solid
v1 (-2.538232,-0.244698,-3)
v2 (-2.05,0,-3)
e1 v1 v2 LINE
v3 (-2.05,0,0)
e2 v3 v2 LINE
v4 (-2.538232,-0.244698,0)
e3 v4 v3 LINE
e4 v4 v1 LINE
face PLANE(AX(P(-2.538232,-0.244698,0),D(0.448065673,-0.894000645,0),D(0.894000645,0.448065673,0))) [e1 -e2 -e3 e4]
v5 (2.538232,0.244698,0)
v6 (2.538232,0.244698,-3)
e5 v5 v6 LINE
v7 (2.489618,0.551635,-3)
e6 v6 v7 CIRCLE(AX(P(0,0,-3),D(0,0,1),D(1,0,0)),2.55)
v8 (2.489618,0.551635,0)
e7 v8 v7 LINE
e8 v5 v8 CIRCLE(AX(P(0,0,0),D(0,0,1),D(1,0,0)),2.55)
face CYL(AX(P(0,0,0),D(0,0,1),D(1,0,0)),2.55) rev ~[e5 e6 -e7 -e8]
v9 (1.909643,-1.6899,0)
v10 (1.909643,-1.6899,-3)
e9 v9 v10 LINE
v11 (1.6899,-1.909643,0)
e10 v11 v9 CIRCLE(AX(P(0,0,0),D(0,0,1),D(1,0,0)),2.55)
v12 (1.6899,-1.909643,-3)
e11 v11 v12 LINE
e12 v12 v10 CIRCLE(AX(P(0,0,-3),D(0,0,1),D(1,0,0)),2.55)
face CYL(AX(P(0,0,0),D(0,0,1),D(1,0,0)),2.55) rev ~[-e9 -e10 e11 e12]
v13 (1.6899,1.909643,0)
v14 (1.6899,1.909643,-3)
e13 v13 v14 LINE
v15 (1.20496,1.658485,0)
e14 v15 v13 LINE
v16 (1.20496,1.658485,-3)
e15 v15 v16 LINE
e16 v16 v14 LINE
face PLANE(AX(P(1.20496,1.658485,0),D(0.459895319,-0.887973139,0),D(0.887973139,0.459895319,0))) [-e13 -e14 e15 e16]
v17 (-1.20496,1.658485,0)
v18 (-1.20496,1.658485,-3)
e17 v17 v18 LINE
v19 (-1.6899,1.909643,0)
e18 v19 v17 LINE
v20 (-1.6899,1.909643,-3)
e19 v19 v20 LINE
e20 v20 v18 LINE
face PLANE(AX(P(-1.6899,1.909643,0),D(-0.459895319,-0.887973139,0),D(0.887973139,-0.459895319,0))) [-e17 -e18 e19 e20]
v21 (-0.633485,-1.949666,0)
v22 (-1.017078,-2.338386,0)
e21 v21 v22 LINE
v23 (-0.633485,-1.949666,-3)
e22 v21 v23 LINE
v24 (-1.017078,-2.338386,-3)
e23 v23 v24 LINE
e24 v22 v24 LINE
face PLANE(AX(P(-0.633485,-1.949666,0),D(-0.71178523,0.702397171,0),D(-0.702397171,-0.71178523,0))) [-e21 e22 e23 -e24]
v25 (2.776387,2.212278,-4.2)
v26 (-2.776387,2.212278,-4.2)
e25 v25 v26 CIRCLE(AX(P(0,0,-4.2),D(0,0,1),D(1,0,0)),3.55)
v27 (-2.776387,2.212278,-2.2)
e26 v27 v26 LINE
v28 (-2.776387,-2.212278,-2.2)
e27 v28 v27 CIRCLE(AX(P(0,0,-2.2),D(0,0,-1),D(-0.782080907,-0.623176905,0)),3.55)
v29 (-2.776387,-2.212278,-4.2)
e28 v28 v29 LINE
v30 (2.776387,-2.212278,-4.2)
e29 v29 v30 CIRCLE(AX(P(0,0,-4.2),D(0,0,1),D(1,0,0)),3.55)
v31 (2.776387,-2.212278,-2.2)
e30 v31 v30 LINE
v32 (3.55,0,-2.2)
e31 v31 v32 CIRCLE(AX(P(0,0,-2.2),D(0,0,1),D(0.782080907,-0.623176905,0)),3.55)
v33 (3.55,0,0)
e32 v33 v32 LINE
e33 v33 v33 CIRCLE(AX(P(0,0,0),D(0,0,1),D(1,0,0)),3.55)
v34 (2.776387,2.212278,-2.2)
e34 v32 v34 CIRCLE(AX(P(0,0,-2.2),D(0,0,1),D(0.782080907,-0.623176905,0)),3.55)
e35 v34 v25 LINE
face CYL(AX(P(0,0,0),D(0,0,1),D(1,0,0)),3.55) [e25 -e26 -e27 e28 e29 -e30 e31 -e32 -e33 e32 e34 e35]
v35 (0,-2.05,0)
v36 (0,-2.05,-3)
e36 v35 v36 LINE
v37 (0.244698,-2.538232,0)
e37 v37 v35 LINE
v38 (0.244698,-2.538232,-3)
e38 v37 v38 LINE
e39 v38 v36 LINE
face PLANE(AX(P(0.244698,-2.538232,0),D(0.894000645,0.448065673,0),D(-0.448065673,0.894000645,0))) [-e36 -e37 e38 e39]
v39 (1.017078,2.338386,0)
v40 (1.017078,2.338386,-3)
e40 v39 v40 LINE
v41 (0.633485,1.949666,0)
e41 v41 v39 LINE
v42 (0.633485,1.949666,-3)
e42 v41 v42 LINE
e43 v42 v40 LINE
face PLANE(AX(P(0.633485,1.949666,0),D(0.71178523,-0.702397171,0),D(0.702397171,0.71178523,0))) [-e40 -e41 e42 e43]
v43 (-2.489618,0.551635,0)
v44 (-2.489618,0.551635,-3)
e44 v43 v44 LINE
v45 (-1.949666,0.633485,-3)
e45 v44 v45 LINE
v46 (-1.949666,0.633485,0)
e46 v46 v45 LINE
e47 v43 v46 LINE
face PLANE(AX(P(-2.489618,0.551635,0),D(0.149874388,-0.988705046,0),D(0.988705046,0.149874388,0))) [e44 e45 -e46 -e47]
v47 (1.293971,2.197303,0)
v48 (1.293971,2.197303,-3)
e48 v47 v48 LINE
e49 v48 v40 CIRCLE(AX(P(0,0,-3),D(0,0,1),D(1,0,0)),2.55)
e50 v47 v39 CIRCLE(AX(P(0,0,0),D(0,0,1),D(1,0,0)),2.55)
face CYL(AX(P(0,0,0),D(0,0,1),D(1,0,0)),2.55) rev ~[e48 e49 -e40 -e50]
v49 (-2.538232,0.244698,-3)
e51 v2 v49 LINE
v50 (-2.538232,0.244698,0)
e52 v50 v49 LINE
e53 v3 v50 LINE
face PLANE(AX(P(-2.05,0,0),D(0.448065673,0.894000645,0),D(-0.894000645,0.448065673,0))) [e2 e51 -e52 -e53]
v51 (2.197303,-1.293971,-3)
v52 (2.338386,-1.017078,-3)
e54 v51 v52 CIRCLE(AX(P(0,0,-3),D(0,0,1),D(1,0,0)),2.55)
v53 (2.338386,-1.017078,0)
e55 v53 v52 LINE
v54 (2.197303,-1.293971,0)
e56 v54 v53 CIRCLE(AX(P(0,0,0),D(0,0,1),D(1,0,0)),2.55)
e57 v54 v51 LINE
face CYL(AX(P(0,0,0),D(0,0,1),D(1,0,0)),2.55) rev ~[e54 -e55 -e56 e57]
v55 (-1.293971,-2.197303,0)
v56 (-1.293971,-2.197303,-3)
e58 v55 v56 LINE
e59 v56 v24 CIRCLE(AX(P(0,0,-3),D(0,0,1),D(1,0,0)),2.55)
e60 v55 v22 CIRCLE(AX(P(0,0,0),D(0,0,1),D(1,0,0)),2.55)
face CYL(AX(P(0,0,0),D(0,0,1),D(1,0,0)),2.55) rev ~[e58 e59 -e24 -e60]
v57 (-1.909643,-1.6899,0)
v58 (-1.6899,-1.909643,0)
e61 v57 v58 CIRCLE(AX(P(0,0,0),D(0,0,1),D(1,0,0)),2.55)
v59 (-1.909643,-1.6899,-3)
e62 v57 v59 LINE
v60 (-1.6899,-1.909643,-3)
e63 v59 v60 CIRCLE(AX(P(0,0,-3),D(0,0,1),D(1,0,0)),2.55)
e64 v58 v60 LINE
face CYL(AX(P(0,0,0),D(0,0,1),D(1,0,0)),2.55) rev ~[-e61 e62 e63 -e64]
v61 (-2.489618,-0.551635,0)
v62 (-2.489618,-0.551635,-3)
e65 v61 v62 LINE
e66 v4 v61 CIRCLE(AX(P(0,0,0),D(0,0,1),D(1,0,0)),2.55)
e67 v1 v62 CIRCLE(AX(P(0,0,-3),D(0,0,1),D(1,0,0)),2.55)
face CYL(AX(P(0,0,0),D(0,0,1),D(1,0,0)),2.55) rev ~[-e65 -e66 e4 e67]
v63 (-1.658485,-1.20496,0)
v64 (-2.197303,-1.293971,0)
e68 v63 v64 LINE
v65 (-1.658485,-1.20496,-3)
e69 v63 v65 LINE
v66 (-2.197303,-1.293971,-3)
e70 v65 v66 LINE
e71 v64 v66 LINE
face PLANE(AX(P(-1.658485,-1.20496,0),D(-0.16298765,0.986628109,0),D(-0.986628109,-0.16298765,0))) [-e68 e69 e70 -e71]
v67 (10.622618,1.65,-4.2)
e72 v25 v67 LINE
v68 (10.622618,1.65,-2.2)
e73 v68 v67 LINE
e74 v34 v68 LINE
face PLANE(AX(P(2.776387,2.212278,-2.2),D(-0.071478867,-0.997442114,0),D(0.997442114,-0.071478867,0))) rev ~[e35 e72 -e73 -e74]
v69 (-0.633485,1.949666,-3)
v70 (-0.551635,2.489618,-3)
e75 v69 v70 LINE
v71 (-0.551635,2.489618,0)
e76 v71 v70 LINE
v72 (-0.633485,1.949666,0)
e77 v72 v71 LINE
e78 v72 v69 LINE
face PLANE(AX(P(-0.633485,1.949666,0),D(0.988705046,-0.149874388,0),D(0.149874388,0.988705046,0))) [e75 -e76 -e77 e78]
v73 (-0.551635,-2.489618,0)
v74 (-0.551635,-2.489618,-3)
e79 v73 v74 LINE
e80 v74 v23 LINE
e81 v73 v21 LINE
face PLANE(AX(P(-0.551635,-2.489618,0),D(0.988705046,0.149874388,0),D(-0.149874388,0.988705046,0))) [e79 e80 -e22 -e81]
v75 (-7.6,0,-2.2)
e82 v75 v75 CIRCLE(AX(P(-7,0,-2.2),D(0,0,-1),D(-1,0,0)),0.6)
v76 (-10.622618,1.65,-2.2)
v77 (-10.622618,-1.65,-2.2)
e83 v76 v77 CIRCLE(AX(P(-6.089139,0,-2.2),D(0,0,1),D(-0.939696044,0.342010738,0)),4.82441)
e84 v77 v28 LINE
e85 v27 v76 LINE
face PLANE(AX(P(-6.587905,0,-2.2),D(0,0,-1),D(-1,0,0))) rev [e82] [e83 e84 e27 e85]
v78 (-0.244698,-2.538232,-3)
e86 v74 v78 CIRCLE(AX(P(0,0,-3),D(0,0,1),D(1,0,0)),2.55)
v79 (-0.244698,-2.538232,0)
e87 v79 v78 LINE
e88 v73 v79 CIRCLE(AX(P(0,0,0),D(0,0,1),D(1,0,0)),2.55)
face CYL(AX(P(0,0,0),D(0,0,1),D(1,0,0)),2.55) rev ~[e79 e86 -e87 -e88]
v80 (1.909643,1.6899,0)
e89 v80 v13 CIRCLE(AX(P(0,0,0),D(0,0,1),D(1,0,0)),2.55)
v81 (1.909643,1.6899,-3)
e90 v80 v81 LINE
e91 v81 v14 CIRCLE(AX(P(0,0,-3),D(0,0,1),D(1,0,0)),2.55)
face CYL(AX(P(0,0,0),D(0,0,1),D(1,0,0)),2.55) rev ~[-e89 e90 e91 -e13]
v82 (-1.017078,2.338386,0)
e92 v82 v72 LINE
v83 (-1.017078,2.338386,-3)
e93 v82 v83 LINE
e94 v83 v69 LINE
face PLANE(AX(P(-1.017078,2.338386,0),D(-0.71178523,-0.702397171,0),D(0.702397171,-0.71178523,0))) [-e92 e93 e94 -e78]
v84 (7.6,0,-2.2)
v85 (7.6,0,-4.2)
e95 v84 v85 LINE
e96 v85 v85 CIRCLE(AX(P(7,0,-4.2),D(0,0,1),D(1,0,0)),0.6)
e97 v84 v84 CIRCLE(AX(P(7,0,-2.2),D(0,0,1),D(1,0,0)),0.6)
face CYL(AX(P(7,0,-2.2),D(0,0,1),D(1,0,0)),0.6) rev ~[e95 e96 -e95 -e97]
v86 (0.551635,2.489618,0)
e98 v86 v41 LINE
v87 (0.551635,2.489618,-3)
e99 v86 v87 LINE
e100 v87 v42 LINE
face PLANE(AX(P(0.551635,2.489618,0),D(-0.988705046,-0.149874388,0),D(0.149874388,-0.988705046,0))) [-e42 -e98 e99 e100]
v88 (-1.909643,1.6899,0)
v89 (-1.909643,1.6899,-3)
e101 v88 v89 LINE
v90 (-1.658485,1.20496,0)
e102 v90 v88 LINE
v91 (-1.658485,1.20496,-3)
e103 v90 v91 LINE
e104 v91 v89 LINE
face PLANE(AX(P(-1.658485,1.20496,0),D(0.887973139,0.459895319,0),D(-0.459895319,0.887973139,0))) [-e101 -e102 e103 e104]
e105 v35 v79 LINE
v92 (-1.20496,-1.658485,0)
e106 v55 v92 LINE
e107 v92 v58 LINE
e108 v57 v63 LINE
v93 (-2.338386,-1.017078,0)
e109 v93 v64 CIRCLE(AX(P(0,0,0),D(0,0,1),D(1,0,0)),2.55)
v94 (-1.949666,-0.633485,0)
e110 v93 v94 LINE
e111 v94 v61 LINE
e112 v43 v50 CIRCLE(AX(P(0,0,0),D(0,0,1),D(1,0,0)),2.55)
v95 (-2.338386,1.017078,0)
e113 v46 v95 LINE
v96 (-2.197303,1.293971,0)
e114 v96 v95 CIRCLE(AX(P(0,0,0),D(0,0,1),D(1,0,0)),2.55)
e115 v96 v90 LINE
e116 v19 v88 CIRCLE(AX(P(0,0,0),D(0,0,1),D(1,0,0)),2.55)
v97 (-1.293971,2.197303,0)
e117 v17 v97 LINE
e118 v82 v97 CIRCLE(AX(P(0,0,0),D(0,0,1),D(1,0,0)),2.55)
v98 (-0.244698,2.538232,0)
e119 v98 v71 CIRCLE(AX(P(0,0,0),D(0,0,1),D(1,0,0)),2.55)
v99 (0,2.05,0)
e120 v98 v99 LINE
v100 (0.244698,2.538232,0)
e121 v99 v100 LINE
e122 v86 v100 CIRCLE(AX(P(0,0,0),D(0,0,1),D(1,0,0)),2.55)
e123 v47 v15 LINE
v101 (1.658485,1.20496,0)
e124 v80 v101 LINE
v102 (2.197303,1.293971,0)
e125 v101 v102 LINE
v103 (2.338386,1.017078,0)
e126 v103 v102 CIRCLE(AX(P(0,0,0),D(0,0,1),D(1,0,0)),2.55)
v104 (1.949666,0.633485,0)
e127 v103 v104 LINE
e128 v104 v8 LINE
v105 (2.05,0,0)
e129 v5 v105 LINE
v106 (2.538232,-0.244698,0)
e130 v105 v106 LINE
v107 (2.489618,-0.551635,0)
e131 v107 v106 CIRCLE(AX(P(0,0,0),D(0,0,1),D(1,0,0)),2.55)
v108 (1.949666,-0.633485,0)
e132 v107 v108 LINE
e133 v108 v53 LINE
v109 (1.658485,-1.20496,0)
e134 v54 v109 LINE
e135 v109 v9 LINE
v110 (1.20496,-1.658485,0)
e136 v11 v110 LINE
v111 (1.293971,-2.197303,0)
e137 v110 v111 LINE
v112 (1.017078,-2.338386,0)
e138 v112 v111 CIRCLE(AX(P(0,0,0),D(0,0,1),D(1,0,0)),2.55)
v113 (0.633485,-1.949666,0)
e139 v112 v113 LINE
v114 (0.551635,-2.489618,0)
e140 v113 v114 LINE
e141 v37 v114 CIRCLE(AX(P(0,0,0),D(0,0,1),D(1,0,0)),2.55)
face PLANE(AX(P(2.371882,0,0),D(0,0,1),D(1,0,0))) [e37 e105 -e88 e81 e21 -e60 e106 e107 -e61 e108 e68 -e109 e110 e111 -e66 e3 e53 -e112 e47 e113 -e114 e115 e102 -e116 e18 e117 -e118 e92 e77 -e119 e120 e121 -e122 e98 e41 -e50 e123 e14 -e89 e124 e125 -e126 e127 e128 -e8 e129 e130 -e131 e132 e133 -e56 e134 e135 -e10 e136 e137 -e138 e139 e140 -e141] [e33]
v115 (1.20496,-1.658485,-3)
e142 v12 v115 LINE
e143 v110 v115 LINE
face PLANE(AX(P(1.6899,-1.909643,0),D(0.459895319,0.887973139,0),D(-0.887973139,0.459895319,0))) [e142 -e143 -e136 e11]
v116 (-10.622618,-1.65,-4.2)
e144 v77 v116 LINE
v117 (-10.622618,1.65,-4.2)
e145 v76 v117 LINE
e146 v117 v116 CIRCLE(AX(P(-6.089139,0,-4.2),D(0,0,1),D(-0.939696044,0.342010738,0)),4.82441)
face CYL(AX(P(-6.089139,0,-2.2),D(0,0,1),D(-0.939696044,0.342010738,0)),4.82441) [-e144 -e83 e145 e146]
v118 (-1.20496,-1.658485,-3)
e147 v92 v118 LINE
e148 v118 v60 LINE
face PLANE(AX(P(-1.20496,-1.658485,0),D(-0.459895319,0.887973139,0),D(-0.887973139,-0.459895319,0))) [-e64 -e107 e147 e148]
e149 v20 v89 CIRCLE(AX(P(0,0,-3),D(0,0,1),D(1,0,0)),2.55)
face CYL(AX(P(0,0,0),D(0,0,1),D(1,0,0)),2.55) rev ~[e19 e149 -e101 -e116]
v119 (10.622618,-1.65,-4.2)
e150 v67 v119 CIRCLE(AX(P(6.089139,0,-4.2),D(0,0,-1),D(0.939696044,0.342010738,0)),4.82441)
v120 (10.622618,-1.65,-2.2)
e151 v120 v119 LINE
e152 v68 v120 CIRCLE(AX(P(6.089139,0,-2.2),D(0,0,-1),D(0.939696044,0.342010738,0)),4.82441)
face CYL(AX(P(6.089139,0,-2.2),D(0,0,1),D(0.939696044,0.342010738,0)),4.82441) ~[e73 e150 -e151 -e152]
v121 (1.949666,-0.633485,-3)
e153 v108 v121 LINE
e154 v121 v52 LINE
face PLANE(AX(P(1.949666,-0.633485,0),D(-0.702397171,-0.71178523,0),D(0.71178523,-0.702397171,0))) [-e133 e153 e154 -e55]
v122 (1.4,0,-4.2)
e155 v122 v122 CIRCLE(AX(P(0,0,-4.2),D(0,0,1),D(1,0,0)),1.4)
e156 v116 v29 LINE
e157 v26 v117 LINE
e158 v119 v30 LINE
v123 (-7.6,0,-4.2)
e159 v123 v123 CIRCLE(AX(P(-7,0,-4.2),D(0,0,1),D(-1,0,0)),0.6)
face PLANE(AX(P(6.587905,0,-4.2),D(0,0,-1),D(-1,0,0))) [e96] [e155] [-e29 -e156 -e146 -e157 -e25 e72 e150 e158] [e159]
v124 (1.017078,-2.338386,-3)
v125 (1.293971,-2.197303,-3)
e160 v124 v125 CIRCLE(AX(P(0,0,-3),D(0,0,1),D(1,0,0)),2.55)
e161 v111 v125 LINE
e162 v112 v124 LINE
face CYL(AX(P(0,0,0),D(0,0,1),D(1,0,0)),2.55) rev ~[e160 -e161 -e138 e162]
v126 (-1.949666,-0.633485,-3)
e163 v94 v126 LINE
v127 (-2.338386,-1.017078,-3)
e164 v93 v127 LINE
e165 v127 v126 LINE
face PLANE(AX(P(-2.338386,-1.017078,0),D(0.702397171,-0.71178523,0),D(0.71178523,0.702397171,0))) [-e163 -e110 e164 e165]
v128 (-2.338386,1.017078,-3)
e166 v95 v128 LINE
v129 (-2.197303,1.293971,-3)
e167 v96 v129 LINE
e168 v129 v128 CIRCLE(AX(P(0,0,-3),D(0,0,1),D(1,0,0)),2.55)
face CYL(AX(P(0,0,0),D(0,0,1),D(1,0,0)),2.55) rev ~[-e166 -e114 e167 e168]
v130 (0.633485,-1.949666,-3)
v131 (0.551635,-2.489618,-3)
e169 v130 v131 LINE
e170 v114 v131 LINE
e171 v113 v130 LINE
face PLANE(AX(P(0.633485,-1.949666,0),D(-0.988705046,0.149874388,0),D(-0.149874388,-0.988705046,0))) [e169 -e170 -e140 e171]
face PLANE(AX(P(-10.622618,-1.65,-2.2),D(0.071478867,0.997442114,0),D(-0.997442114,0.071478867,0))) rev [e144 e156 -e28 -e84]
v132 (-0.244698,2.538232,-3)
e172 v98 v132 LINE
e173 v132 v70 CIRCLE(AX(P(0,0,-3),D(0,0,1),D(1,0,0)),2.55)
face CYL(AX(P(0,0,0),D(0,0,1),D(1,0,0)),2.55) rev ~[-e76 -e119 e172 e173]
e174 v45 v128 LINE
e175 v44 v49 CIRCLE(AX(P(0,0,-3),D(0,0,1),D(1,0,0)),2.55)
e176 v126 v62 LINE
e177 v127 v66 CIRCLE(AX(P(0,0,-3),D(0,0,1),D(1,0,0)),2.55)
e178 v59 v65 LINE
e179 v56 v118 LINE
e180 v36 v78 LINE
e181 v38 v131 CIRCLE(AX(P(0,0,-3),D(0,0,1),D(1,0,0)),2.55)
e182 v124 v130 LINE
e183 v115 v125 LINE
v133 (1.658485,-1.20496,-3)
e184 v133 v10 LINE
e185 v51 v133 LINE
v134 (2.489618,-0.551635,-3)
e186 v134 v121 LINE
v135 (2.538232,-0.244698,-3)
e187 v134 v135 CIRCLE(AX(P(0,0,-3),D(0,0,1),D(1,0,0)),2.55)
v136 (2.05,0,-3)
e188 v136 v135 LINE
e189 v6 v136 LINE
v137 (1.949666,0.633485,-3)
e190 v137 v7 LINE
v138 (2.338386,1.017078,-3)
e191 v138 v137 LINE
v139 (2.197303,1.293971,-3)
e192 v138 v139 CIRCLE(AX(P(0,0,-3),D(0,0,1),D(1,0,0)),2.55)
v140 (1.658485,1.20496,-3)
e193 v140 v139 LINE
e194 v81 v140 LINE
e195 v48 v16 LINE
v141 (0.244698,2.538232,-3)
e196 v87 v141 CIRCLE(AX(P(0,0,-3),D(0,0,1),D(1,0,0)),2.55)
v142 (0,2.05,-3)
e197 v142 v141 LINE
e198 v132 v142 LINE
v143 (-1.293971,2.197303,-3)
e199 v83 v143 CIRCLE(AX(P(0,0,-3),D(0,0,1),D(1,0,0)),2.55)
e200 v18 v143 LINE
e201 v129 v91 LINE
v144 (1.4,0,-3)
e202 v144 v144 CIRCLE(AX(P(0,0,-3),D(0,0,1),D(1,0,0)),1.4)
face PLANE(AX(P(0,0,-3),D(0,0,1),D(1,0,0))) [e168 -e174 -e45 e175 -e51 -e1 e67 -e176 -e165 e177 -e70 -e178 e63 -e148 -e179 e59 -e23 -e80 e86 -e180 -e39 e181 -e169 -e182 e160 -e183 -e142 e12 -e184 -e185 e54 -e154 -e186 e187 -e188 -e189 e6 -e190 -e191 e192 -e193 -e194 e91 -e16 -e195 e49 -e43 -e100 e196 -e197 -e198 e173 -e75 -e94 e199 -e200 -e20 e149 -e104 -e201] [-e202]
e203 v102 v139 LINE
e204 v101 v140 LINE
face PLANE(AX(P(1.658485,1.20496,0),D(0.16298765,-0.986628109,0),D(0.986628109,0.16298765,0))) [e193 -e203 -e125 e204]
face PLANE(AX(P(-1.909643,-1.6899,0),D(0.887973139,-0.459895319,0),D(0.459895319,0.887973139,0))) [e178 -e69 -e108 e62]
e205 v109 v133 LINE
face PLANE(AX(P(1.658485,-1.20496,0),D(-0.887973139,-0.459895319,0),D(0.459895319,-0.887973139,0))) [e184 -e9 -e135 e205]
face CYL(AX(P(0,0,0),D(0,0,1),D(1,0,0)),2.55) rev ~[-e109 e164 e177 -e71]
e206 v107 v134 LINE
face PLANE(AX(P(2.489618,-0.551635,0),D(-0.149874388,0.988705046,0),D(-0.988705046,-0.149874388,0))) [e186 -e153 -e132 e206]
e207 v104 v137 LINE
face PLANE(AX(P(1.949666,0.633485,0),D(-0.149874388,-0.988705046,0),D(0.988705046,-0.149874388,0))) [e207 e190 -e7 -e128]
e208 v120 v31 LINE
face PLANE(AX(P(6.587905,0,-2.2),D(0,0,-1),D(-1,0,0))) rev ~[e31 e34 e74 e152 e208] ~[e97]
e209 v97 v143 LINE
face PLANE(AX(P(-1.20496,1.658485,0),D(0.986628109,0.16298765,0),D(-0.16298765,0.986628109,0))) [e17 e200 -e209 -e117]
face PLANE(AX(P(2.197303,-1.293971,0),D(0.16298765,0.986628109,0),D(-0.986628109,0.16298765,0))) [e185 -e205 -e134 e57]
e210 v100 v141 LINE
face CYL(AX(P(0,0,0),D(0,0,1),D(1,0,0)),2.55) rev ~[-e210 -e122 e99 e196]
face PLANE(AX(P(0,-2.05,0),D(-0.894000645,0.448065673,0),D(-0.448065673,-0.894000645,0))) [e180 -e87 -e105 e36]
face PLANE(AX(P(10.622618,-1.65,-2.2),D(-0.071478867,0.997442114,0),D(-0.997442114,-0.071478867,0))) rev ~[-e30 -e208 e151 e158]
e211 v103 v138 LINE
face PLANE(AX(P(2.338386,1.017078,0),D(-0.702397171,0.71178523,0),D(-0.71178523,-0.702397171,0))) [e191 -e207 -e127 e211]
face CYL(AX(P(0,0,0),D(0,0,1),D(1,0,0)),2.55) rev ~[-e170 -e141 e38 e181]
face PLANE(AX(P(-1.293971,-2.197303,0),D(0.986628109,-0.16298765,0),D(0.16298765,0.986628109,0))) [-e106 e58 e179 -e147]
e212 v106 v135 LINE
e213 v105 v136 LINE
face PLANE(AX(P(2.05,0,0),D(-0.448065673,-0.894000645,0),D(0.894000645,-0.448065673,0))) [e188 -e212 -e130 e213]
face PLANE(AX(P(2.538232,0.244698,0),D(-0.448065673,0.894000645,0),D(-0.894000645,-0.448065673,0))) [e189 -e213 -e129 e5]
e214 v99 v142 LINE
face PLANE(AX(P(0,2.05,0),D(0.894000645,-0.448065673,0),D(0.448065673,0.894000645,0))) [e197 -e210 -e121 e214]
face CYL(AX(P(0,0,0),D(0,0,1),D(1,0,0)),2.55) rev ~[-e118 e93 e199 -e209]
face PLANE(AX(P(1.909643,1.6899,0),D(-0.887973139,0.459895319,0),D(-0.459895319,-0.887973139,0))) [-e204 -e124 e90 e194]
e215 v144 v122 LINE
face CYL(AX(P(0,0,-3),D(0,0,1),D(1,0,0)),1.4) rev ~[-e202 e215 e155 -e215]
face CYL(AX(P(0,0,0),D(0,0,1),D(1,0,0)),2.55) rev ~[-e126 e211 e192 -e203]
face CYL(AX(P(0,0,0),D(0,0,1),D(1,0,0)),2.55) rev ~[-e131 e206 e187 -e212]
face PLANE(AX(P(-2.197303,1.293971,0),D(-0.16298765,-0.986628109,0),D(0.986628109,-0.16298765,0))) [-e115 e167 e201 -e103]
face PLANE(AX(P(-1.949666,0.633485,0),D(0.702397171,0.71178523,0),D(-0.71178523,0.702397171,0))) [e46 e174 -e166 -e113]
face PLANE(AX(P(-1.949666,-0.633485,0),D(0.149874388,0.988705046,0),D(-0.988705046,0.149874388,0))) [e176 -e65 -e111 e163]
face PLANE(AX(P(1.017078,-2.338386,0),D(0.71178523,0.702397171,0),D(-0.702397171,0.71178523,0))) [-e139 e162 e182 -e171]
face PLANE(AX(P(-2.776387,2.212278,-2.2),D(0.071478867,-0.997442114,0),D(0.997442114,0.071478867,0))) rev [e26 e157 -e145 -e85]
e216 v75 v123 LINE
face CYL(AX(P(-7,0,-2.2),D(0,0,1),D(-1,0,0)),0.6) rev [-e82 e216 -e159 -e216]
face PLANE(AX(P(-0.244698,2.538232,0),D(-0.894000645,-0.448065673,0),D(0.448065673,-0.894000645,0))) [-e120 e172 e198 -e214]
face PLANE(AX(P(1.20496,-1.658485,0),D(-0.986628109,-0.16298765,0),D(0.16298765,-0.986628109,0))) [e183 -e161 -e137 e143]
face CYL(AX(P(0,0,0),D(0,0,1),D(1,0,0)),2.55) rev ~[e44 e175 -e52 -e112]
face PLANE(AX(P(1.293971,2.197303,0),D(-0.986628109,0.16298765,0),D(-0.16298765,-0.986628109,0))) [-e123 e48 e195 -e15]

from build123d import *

# Parameters (mm, degrees)
SKETCH2_R           = 3.55
BOSS_EXTRUDE1_DEPTH = 4.2
BOSS_EXTRUDE2_DEPTH = 2
SKETCH5_R           = 2.549999919
CUT_EXTRUDE1_DEPTH  = 3
BOSS_EXTRUDE3_DEPTH = 3
SKETCH6_R           = 1.4
CUT_EXTRUDE2_DEPTH  = 12.862042223
SKETCH7_R           = 0.6
CUT_EXTRUDE3_DEPTH  = 12.685377431


with BuildPart() as part:
    # Sketch2 → Boss-Extrude1 (new body)
    with BuildSketch(Plane.XY):
        Circle(SKETCH2_R)
    extrude(amount=-BOSS_EXTRUDE1_DEPTH)

    # Sketch4 → Boss-Extrude2 (add)
    with BuildSketch(Plane.XY.offset(-2.2)):
        with BuildLine():
            Line((2.776387215, 2.212277889), (10.622617722, 1.649999976))
            ThreePointArc((10.622617722, 1.649999976), (10.913548722, 0), (10.622617722, -1.649999976))
            Line((10.622617722, -1.649999976), (2.776387215, -2.212277889))
            ThreePointArc((2.776387215, -2.212277889), (3.549999952, 0), (2.776387215, 2.212277889))
        make_face()
    boss_extrude2 = extrude(amount=-BOSS_EXTRUDE2_DEPTH)

    # Sketch5 → Cut-Extrude1 (cut)
    with BuildSketch(Plane.XY):
        Circle(SKETCH5_R)
    extrude(amount=-CUT_EXTRUDE1_DEPTH, mode=Mode.SUBTRACT)

    # Sketch3 → Boss-Extrude3 (add)
    with BuildSketch(Plane.XY):
        with BuildLine():
            Line((-0.244697916, 2.538232164), (0, 2.049999952))
            Line((0, 2.049999952), (0.244697916, 2.538232164))
            ThreePointArc((0.244697916, 2.538232164), (0, 2.549999919), (-0.244697916, 2.538232164))
        make_face()
        with BuildLine():
            Line((0.551635326, 2.489618054), (0.633484824, 1.949665813))
            Line((0.633484824, 1.949665813), (1.017078422, 2.338386424))
            ThreePointArc((1.017078422, 2.338386424), (0.787993311, 2.42519404), (0.551635326, 2.489618054))
        make_face()
        with BuildLine():
            Line((1.29397066, 2.197302783), (1.204959739, 1.6584848))
            Line((1.204959739, 1.6584848), (1.689900206, 1.90964313))
            ThreePointArc((1.689900206, 1.90964313), (1.498852346, 2.06299327), (1.29397066, 2.197302783))
        make_face()
        with BuildLine():
            Line((1.90964313, 1.689900206), (1.6584848, 1.204959739))
            Line((1.6584848, 1.204959739), (2.197302783, 1.29397066))
            ThreePointArc((2.197302783, 1.29397066), (2.06299327, 1.498852346), (1.90964313, 1.689900206))
        make_face()
        with BuildLine():
            Line((2.338386424, 1.017078422), (1.949665813, 0.633484824))
            Line((1.949665813, 0.633484824), (2.489618054, 0.551635326))
            ThreePointArc((2.489618054, 0.551635326), (2.42519404, 0.787993311), (2.338386424, 1.017078422))
        make_face()
        with BuildLine():
            Line((2.538232164, 0.244697916), (2.049999952, 0))
            Line((2.049999952, 0), (2.538232164, -0.244697916))
            ThreePointArc((2.538232164, -0.244697916), (2.549999919, 0), (2.538232164, 0.244697916))
        make_face()
        with BuildLine():
            Line((2.489618054, -0.551635326), (1.949665813, -0.633484824))
            Line((1.949665813, -0.633484824), (2.338386424, -1.017078422))
            ThreePointArc((2.338386424, -1.017078422), (2.42519404, -0.787993311), (2.489618054, -0.551635326))
        make_face()
        with BuildLine():
            Line((2.197302783, -1.29397066), (1.6584848, -1.204959739))
            Line((1.6584848, -1.204959739), (1.90964313, -1.689900206))
            ThreePointArc((1.90964313, -1.689900206), (2.06299327, -1.498852346), (2.197302783, -1.29397066))
        make_face()
        with BuildLine():
            Line((1.689900206, -1.90964313), (1.204959739, -1.6584848))
            Line((1.204959739, -1.6584848), (1.29397066, -2.197302783))
            ThreePointArc((1.29397066, -2.197302783), (1.498852346, -2.06299327), (1.689900206, -1.90964313))
        make_face()
        with BuildLine():
            Line((1.017078422, -2.338386424), (0.633484824, -1.949665813))
            Line((0.633484824, -1.949665813), (0.551635326, -2.489618054))
            ThreePointArc((0.551635326, -2.489618054), (0.787993311, -2.42519404), (1.017078422, -2.338386424))
        make_face()
        with BuildLine():
            Line((0.244697916, -2.538232164), (0, -2.049999952))
            Line((0, -2.049999952), (-0.244697916, -2.538232164))
            ThreePointArc((-0.244697916, -2.538232164), (0, -2.549999919), (0.244697916, -2.538232164))
        make_face()
        with BuildLine():
            Line((-0.551635326, -2.489618054), (-0.633484824, -1.949665813))
            Line((-0.633484824, -1.949665813), (-1.017078422, -2.338386424))
            ThreePointArc((-1.017078422, -2.338386424), (-0.787993311, -2.42519404), (-0.551635326, -2.489618054))
        make_face()
        with BuildLine():
            Line((-1.29397066, -2.197302783), (-1.204959739, -1.6584848))
            Line((-1.204959739, -1.6584848), (-1.689900206, -1.90964313))
            ThreePointArc((-1.689900206, -1.90964313), (-1.498852346, -2.06299327), (-1.29397066, -2.197302783))
        make_face()
        with BuildLine():
            Line((-1.90964313, -1.689900206), (-1.6584848, -1.204959739))
            Line((-1.6584848, -1.204959739), (-2.197302783, -1.29397066))
            ThreePointArc((-2.197302783, -1.29397066), (-2.06299327, -1.498852346), (-1.90964313, -1.689900206))
        make_face()
        with BuildLine():
            Line((-2.338386424, -1.017078422), (-1.949665813, -0.633484824))
            Line((-1.949665813, -0.633484824), (-2.489618054, -0.551635326))
            ThreePointArc((-2.489618054, -0.551635326), (-2.42519404, -0.787993311), (-2.338386424, -1.017078422))
        make_face()
        with BuildLine():
            Line((-2.538232164, -0.244697916), (-2.049999952, 0))
            Line((-2.049999952, 0), (-2.538232164, 0.244697916))
            ThreePointArc((-2.538232164, 0.244697916), (-2.549999919, 0), (-2.538232164, -0.244697916))
        make_face()
        with BuildLine():
            Line((-2.489618054, 0.551635326), (-1.949665813, 0.633484824))
            Line((-1.949665813, 0.633484824), (-2.338386424, 1.017078422))
            ThreePointArc((-2.338386424, 1.017078422), (-2.42519404, 0.787993311), (-2.489618054, 0.551635326))
        make_face()
        with BuildLine():
            Line((-2.197302783, 1.29397066), (-1.6584848, 1.204959739))
            Line((-1.6584848, 1.204959739), (-1.90964313, 1.689900206))
            ThreePointArc((-1.90964313, 1.689900206), (-2.06299327, 1.498852346), (-2.197302783, 1.29397066))
        make_face()
        with BuildLine():
            Line((-1.689900206, 1.90964313), (-1.204959739, 1.6584848))
            Line((-1.204959739, 1.6584848), (-1.29397066, 2.197302783))
            ThreePointArc((-1.29397066, 2.197302783), (-1.498852346, 2.06299327), (-1.689900206, 1.90964313))
        make_face()
        with BuildLine():
            Line((-1.017078422, 2.338386424), (-0.633484824, 1.949665813))
            Line((-0.633484824, 1.949665813), (-0.551635326, 2.489618054))
            ThreePointArc((-0.551635326, 2.489618054), (-0.787993311, 2.42519404), (-1.017078422, 2.338386424))
        make_face()
    extrude(amount=-BOSS_EXTRUDE3_DEPTH)

    # Sketch6 → Cut-Extrude2 (cut, through all)
    with BuildSketch(Plane.XY.offset(-3)):
        Circle(SKETCH6_R)
    extrude(amount=-CUT_EXTRUDE2_DEPTH, mode=Mode.SUBTRACT)

    # Sketch7 → Cut-Extrude3 (cut, through all)
    with BuildSketch(Plane.XY.offset(-2.2)):
        with Locations((7, 0)):
            Circle(SKETCH7_R)
    cut_extrude3 = extrude(amount=-CUT_EXTRUDE3_DEPTH, mode=Mode.SUBTRACT)

    # Mirror1: Boss-Extrude2 across plane
    add(boss_extrude2.mirror(Plane(origin=(0, 0, 0), x_dir=(0, 0, 1), z_dir=(1, 0, 0))))

    # Mirror2: Cut-Extrude3 across plane
    add(cut_extrude3.mirror(Plane(origin=(0, 0, 0), x_dir=(0, 0, 1), z_dir=(1, 0, 0))), mode=Mode.SUBTRACT)


solid = part.part
